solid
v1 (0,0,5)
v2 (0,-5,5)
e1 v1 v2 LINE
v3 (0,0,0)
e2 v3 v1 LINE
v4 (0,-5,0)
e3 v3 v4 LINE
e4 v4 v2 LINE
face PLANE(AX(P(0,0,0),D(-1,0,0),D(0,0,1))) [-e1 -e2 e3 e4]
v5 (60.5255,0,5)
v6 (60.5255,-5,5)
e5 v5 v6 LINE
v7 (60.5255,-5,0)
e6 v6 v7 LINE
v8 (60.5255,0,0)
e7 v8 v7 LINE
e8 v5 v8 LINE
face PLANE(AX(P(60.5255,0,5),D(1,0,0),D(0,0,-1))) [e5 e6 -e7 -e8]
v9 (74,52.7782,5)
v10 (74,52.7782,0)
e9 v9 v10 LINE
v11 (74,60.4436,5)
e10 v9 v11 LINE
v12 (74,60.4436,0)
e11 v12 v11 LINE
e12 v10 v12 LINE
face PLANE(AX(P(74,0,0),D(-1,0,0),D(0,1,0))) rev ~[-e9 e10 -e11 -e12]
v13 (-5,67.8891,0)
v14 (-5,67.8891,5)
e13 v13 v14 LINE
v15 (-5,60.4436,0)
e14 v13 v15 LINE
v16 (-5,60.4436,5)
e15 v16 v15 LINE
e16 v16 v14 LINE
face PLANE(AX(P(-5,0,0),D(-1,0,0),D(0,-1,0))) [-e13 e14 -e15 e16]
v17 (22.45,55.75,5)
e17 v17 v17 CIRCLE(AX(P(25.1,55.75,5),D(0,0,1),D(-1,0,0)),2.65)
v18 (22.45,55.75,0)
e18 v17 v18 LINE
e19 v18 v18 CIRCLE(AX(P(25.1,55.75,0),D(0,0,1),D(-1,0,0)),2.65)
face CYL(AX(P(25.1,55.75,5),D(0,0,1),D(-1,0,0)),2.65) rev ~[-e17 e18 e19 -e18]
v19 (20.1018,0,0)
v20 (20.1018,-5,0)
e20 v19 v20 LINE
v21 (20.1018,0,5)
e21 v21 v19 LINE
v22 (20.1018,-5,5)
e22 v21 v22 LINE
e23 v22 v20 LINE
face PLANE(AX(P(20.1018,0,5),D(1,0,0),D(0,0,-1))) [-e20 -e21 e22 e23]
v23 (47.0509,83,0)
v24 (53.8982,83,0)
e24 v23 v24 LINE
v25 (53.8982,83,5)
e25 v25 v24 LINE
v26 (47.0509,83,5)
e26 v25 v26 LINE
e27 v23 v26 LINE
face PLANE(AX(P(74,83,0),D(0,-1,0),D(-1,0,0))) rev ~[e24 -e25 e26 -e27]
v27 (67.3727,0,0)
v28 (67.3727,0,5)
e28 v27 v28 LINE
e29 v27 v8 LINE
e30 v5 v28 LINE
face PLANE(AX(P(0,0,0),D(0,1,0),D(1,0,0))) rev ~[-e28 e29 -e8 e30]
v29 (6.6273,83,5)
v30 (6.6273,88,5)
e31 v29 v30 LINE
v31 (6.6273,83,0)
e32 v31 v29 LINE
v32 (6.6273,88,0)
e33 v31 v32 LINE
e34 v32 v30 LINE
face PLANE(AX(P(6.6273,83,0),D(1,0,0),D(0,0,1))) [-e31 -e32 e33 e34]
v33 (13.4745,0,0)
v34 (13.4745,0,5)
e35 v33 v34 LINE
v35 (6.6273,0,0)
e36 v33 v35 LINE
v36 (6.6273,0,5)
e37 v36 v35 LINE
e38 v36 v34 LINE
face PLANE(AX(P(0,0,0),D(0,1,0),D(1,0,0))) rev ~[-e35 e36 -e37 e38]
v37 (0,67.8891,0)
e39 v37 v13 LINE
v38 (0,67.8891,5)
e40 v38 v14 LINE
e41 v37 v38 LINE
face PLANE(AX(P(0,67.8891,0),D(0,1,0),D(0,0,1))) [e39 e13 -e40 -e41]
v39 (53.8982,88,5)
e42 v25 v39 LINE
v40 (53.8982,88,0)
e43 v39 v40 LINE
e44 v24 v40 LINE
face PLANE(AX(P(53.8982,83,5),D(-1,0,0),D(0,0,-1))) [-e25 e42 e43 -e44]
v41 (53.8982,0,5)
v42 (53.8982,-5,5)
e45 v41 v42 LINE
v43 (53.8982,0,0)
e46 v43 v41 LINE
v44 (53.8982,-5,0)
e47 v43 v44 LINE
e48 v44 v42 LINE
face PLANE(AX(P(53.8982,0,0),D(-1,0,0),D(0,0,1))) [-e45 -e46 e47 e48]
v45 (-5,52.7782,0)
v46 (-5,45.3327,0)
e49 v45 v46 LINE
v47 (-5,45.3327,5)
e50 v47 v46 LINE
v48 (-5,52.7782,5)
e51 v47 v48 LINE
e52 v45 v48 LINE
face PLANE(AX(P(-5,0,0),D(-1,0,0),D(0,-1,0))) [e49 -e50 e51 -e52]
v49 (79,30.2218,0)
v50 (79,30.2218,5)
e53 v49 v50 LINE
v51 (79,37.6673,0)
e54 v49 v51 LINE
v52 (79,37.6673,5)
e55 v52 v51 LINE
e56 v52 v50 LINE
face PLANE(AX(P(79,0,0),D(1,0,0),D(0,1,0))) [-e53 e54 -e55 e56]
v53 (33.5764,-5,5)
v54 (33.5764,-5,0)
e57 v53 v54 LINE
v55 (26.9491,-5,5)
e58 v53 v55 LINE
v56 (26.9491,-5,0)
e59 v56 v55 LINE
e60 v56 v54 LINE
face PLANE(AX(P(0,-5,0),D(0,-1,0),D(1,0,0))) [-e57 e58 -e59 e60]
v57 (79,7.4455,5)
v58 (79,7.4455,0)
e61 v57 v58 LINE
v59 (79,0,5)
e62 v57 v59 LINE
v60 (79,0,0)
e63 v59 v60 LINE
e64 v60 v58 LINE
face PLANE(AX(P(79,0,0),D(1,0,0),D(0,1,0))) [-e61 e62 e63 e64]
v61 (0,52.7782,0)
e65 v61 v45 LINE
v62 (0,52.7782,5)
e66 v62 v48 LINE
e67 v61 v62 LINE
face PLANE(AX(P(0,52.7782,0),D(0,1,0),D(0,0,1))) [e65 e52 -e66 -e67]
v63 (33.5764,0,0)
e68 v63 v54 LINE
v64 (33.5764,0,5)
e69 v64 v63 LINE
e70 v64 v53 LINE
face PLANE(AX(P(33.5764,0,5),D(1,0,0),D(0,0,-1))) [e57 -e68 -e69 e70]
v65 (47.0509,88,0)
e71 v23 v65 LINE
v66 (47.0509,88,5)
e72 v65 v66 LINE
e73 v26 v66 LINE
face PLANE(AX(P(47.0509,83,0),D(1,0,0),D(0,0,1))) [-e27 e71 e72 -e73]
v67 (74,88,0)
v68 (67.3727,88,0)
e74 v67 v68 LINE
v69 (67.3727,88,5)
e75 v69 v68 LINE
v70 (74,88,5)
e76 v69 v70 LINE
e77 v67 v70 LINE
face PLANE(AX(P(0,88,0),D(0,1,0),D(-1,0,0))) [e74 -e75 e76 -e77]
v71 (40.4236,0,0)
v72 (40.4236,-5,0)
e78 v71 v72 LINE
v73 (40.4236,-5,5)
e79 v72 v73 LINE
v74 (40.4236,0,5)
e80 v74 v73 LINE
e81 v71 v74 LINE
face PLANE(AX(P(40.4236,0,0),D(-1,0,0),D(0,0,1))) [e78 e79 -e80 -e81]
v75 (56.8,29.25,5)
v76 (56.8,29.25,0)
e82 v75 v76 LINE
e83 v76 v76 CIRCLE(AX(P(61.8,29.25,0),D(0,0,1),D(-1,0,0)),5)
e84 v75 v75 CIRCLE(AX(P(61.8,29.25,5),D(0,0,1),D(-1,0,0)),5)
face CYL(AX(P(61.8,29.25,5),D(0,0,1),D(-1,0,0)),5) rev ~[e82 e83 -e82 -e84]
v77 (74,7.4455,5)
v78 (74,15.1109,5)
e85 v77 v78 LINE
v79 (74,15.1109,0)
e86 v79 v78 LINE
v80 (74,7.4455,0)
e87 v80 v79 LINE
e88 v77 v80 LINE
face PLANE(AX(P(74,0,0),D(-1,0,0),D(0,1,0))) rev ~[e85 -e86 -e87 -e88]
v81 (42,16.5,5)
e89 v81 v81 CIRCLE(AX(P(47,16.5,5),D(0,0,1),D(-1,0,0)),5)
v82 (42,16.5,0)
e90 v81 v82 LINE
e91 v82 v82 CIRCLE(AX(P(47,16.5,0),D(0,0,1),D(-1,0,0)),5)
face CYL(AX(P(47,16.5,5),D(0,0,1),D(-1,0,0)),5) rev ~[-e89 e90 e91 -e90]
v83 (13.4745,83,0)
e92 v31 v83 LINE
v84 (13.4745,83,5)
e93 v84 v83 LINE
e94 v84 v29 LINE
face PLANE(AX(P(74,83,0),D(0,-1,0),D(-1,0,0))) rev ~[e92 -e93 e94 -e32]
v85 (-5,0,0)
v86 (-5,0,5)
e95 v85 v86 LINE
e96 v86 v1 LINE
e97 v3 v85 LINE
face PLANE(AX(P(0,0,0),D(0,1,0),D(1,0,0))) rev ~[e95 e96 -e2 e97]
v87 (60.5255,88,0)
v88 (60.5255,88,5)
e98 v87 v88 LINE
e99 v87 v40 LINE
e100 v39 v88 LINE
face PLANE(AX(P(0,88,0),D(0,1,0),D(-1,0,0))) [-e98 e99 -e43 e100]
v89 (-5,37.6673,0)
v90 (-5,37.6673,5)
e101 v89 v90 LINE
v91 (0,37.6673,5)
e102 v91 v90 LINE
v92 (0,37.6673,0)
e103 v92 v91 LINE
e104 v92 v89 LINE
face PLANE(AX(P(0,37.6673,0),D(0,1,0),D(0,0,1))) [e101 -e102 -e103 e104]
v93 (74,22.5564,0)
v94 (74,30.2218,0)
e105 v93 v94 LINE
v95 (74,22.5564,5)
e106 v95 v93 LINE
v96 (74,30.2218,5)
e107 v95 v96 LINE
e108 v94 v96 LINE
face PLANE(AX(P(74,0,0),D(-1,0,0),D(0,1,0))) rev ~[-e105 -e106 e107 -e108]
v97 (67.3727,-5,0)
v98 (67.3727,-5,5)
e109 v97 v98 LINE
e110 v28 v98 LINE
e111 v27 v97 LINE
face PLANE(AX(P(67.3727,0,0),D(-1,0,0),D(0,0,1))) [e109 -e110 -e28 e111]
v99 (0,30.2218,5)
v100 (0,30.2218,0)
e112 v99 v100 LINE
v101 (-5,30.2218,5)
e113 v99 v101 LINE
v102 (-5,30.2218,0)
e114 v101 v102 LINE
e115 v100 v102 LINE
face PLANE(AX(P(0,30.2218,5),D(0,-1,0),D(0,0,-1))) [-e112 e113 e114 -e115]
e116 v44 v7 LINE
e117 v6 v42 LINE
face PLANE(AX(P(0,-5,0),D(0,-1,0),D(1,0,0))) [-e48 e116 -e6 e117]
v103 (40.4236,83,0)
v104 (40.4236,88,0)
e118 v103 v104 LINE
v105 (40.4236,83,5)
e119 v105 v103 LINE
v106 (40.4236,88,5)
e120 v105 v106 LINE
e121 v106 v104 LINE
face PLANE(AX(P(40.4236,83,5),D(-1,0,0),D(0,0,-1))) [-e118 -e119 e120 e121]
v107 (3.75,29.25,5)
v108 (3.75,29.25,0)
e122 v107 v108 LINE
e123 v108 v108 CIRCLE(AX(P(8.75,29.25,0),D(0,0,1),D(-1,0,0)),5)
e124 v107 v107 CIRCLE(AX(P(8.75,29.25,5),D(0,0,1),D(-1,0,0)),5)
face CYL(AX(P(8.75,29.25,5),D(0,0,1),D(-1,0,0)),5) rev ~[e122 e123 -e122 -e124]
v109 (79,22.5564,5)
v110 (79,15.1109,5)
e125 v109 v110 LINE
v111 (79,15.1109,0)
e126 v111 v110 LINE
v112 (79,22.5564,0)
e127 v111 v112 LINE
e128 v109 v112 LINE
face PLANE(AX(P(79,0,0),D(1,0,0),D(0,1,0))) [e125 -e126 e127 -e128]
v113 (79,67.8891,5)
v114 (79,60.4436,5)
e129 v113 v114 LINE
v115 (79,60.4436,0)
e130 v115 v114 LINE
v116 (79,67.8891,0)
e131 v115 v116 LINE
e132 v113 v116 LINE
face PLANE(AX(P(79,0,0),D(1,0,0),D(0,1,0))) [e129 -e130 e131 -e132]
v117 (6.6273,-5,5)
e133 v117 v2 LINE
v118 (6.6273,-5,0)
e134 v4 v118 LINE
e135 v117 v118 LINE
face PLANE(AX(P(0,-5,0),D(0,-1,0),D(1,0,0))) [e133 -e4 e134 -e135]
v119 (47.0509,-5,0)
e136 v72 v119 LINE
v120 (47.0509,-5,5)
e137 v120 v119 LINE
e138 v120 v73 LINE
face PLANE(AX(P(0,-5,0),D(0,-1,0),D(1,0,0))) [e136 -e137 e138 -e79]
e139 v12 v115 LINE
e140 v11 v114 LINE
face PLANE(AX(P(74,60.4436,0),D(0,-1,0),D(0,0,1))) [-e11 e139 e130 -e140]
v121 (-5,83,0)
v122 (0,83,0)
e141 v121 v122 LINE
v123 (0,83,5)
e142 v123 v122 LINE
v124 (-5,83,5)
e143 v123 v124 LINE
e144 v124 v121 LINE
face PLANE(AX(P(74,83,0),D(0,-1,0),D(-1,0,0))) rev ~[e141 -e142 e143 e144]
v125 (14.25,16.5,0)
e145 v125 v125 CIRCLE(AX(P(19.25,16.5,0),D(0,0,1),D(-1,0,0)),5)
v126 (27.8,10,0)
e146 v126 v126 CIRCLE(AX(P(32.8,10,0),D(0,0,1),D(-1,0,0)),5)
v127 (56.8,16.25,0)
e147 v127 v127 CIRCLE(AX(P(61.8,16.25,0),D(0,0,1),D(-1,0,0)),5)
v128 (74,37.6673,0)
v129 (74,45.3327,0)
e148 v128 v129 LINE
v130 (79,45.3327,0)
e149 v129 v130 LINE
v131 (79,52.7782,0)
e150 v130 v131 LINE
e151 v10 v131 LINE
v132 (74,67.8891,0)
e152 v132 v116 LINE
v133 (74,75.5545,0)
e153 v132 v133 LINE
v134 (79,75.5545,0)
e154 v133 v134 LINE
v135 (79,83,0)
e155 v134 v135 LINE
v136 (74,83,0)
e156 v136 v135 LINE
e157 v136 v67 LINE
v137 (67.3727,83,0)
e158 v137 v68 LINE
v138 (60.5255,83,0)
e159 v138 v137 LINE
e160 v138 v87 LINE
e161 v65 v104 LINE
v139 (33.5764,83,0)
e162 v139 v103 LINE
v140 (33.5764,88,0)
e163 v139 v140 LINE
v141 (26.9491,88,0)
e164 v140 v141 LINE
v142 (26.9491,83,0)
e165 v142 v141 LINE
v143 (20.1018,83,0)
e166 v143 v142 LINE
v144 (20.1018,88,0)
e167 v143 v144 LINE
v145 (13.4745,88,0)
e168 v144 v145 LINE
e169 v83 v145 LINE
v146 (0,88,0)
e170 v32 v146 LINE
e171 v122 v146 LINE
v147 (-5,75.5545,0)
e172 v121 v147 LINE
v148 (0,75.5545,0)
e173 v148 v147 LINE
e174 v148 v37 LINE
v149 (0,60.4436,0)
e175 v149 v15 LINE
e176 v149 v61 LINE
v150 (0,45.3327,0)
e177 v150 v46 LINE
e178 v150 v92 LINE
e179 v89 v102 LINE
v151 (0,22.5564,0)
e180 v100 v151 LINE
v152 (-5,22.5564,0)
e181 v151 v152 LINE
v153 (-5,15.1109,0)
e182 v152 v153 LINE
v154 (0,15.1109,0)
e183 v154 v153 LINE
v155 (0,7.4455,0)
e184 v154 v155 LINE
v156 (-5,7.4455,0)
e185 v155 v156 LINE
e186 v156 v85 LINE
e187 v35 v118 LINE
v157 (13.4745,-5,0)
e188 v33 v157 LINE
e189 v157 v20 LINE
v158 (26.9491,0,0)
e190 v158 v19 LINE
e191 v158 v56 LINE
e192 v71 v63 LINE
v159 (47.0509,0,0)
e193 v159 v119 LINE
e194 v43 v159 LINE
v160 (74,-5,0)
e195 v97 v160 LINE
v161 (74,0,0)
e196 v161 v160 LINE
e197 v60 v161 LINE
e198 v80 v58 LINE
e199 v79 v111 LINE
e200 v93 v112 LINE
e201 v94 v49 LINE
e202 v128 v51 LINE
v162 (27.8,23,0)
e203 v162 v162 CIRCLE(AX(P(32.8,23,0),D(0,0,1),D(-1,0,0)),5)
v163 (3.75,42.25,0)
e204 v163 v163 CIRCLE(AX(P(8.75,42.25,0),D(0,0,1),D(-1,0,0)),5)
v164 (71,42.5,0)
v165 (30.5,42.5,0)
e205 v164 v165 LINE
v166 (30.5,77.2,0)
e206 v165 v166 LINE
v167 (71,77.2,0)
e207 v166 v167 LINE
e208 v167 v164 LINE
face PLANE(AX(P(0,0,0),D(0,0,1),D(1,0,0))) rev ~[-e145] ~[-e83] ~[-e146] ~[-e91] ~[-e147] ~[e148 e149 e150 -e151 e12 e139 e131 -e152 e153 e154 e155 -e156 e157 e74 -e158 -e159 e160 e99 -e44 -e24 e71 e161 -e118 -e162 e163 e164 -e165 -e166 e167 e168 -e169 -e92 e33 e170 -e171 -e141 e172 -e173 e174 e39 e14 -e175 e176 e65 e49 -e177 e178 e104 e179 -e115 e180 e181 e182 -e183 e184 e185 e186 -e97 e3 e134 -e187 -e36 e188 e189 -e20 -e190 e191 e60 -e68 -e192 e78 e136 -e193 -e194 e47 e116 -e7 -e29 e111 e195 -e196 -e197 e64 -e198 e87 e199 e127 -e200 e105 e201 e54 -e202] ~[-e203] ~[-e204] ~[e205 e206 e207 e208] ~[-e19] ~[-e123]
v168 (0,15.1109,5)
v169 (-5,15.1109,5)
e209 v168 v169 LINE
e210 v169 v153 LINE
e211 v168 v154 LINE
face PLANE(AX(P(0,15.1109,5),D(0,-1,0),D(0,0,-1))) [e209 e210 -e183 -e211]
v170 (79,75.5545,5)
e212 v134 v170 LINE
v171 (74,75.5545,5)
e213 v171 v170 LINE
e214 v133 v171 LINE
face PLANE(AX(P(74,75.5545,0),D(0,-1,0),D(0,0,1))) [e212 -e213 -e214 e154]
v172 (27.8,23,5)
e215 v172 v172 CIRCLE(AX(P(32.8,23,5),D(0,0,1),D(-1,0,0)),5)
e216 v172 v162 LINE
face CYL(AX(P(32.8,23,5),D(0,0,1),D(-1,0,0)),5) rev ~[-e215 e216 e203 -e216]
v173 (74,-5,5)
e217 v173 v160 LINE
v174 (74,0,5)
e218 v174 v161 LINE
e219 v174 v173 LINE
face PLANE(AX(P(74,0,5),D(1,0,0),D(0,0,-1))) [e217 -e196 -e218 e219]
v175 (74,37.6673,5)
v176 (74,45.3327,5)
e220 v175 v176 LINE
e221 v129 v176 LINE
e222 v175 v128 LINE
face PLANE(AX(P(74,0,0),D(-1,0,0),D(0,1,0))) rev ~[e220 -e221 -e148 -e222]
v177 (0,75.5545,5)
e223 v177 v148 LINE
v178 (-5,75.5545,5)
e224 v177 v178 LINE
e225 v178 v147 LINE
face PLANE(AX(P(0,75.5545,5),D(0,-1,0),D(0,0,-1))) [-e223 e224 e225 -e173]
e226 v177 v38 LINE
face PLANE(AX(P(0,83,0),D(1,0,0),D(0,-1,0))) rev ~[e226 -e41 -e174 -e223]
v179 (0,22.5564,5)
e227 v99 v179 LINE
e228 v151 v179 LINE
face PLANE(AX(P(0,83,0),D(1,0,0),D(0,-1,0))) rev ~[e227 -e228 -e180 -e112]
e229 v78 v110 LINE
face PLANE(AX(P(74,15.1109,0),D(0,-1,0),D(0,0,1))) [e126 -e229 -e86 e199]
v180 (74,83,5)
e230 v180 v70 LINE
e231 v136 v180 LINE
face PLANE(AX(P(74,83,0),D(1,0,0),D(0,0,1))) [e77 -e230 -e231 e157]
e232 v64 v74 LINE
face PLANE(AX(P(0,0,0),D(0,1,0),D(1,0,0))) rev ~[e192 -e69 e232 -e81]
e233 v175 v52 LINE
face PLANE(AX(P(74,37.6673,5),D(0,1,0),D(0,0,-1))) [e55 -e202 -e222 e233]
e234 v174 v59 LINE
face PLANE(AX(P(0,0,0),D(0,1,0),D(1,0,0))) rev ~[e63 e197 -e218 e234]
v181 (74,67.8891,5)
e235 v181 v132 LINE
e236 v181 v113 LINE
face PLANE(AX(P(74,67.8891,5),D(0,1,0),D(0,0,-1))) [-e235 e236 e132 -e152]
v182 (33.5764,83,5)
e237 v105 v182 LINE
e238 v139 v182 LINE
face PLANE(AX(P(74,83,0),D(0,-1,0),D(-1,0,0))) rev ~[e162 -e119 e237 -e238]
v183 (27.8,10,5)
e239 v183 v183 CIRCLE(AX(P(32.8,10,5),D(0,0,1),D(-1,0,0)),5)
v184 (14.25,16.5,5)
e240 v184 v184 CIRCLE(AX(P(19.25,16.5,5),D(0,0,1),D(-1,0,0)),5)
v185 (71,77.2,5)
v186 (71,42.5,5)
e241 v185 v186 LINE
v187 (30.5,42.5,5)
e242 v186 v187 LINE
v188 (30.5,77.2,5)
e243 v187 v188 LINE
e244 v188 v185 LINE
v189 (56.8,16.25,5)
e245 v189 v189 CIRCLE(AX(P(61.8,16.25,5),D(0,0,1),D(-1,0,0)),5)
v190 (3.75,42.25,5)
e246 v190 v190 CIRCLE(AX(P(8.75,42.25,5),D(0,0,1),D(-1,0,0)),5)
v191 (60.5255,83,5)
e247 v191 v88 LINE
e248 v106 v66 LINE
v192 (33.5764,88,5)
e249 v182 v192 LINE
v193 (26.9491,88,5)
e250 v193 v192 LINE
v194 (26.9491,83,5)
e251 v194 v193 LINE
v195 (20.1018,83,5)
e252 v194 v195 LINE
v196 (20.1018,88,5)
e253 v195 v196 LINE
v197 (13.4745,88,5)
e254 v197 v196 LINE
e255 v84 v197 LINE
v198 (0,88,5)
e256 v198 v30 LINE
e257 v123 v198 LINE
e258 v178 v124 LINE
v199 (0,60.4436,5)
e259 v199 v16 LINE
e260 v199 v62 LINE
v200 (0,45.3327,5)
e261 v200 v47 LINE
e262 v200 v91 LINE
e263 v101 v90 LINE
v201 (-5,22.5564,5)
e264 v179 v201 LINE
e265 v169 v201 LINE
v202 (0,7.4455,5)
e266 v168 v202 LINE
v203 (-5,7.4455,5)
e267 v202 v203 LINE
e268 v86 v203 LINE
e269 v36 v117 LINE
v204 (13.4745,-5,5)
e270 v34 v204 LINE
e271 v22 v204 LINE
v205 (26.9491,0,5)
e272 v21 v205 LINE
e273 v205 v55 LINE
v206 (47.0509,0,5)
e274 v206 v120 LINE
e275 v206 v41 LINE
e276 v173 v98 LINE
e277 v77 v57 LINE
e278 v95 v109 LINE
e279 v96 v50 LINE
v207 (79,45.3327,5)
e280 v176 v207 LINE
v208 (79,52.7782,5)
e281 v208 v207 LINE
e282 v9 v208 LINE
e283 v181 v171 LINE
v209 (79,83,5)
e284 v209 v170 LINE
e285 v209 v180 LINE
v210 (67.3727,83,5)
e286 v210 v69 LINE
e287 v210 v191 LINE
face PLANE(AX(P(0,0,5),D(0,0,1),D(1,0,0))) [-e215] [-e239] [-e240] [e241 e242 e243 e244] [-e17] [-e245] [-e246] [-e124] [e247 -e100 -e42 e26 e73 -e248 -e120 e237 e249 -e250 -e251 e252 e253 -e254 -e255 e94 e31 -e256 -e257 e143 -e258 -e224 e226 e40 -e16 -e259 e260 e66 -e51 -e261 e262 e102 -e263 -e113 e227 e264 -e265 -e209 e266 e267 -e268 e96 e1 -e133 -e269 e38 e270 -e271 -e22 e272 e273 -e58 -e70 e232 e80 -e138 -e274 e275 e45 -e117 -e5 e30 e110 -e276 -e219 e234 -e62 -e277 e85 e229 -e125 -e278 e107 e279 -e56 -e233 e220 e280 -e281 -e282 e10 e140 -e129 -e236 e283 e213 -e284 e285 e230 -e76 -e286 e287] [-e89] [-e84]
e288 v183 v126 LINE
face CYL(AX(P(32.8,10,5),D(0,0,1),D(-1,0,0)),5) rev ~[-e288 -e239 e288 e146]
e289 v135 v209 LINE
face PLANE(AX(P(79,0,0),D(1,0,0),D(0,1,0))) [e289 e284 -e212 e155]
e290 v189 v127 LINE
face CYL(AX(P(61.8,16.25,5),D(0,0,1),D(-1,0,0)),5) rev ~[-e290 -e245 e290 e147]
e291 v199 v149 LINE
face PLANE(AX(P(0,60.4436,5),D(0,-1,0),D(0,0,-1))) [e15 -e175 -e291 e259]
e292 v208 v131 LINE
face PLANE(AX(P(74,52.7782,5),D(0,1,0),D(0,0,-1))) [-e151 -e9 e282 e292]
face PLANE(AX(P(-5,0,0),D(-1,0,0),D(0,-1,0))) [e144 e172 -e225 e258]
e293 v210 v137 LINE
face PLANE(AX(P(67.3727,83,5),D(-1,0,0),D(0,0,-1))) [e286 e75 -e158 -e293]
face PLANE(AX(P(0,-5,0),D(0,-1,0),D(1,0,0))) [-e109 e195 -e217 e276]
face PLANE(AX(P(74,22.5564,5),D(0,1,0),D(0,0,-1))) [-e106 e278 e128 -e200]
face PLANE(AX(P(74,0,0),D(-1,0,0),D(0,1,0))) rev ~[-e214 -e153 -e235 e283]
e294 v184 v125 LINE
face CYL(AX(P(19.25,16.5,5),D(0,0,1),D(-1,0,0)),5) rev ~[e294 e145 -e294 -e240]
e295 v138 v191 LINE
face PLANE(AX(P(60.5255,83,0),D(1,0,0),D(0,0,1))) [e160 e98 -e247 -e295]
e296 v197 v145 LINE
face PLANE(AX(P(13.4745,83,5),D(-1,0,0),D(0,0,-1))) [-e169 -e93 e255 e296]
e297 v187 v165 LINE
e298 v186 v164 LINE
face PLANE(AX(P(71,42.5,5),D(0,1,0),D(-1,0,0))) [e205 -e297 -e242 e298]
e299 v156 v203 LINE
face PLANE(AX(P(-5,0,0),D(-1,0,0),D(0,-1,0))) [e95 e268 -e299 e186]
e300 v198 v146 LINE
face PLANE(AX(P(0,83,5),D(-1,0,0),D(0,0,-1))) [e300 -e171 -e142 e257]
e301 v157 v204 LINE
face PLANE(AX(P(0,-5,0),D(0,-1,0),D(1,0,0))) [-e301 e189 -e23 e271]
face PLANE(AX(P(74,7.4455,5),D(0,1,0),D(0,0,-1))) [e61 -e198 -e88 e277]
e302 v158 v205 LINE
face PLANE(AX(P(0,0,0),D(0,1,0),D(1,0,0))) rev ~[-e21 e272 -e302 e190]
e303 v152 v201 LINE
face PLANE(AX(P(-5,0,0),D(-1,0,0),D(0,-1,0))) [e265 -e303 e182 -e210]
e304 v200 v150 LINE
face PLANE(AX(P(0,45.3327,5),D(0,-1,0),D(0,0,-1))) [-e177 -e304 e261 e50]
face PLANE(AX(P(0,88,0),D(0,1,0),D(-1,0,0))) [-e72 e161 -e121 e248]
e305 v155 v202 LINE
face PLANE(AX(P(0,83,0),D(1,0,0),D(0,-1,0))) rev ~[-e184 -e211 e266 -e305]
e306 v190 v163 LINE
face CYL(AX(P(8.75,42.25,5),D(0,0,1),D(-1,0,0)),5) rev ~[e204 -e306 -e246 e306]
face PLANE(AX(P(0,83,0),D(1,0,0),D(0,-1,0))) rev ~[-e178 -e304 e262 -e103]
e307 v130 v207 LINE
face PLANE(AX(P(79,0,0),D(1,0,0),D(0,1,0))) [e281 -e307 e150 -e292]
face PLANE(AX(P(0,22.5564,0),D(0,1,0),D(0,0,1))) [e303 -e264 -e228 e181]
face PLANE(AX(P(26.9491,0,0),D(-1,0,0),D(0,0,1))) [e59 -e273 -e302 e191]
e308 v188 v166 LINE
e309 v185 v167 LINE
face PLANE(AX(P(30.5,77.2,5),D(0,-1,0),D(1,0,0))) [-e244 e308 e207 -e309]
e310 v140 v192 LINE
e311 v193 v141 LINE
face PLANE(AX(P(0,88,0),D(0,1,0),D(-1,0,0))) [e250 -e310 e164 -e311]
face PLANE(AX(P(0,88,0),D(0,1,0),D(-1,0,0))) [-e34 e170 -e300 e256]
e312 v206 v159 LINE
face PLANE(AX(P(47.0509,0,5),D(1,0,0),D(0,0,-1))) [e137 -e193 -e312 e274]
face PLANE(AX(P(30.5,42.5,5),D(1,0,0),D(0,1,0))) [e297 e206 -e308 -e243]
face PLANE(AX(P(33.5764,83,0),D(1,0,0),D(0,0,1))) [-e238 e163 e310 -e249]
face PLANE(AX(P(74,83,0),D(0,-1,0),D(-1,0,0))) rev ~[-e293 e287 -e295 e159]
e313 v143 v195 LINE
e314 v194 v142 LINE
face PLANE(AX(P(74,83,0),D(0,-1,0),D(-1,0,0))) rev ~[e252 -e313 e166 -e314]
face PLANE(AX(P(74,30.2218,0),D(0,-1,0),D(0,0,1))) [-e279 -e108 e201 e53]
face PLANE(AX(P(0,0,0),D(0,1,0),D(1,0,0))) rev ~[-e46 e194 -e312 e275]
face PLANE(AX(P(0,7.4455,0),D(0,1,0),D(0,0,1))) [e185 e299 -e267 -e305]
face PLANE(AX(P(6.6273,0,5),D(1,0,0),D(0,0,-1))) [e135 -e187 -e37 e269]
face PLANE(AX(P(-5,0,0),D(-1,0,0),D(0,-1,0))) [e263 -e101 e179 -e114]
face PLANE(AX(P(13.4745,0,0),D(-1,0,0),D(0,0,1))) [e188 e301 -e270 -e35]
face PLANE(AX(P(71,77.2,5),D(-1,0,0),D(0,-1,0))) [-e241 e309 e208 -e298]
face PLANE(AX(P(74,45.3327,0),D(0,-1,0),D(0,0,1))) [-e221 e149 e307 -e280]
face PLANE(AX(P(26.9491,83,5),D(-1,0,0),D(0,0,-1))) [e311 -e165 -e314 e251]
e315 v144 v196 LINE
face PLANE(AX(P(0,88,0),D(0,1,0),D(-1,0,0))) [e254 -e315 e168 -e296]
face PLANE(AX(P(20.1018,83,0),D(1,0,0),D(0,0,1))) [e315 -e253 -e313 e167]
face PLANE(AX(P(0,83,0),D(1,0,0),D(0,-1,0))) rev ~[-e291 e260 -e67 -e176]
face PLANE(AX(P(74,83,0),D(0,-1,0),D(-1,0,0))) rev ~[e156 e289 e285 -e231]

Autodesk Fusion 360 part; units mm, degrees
sketch "Sketch1" plane through (0, 0, 0) normal (0, 0, 1) x (1, 0, 0)
  line L0 (0, 0) -> (74, 0)
  line L1 (74, 0) -> (74, 83)
  line L2 (74, 83) -> (0, 83)
  line L3 (0, 83) -> (0, 0)
  dimension "d1" = 74
  dimension "d2" = 83
extrude "Extrude1" add sketch "Sketch1" along normal blind 5
sketch "Sketch2" plane through (0, 0, 5) normal (0, 0, 1) x (-1, 0, 0)
  line L0 (0, -83) -> (0, 0)
  line L1 (0, 0) -> (-74, 0)
  line L2 (-74, 0) -> (-74, -83)
  line L3 (-74, -83) -> (0, -83)
  line L4 (-30.5, -77.2) -> (-71, -77.2)
  line L5 (-71, -77.2) -> (-71, -42.5)
  line L6 (-71, -42.5) -> (-30.5, -42.5)
  line L7 (-30.5, -42.5) -> (-30.5, -77.2)
  line L8 (-55.8, -22.25) -> (-67.8, -22.25)
  line L9 (-67.8, -22.25) -> (-67.8, -10.25)
  line L10 (-67.8, -10.25) -> (-55.8, -10.25)
  line L11 (-55.8, -10.25) -> (-55.8, -22.25)
  line L12 (-55.8, -35.25) -> (-67.8, -35.25)
  line L13 (-67.8, -35.25) -> (-67.8, -23.25)
  line L14 (-67.8, -23.25) -> (-55.8, -23.25)
  line L15 (-55.8, -23.25) -> (-55.8, -35.25)
  line L16 (-55.8, -29.25) -> (-67.8, -29.25) construction
  line L17 (-61.8, -35.25) -> (-61.8, -23.25) construction
  circle A0 centre (-61.8, -29.25) radius 5
  line L18 (-61.8, -22.25) -> (-61.8, -10.25) construction
  line L19 (-55.8, -16.25) -> (-67.8, -16.25) construction
  circle A1 centre (-61.8, -16.25) radius 5
  line L20 (-25.25, -10.5) -> (-13.25, -10.5)
  line L21 (-13.25, -10.5) -> (-13.25, -22.5)
  line L22 (-13.25, -22.5) -> (-25.25, -22.5)
  line L23 (-25.25, -22.5) -> (-25.25, -10.5)
  circle A2 centre (-19.25, -16.5) radius 5
  line L24 (-38.8, -4) -> (-26.8, -4)
  line L25 (-26.8, -4) -> (-26.8, -16)
  line L26 (-26.8, -16) -> (-38.8, -16)
  line L27 (-38.8, -16) -> (-38.8, -4)
  circle A3 centre (-32.8, -10) radius 5
  line L28 (-38.8, -17) -> (-26.8, -17)
  line L29 (-26.8, -17) -> (-26.8, -29)
  line L30 (-26.8, -29) -> (-38.8, -29)
  line L31 (-38.8, -29) -> (-38.8, -17)
  circle A4 centre (-32.8, -23) radius 5
  line L32 (-53, -10.5) -> (-41, -10.5)
  line L33 (-41, -10.5) -> (-41, -22.5)
  line L34 (-41, -22.5) -> (-53, -22.5)
  line L35 (-53, -22.5) -> (-53, -10.5)
  circle A5 centre (-47, -16.5) radius 5
  line L36 (-14.75, -36.25) -> (-2.75, -36.25)
  line L37 (-2.75, -36.25) -> (-2.75, -48.25)
  line L38 (-2.75, -48.25) -> (-14.75, -48.25)
  line L39 (-14.75, -48.25) -> (-14.75, -36.25)
  circle A6 centre (-8.75, -42.25) radius 5
  line L40 (-14.75, -23.25) -> (-2.75, -23.25)
  line L41 (-2.75, -23.25) -> (-2.75, -35.25)
  line L42 (-2.75, -35.25) -> (-14.75, -35.25)
  line L43 (-14.75, -35.25) -> (-14.75, -23.25)
  circle A7 centre (-8.75, -29.25) radius 5
  circle A8 centre (-25.1, -55.75) radius 2.65
  dimension "d5" = 30.5
  dimension "d6" = 42.5
  dimension "d7" = 34.7
  dimension "d8" = 40.5
  dimension "d11" = 12
  dimension "d14" = 12
  dimension "d15" = 6.2
  dimension "d16" = 10.25
  dimension "d17" = 6.2
  dimension "d19" = 1
  dimension "d20" = 10
  dimension "d21" = 10
  dimension "d22" = 12
  dimension "d23" = 10
  dimension "d24" = 12
  dimension "d25" = 10
  dimension "d26" = 12
  dimension "d27" = 10
  dimension "d28" = 12
  dimension "d29" = 10
  dimension "d32" = 10.5
  dimension "d33" = 6
  dimension "d34" = 6
  dimension "d35" = 4
  dimension "d36" = 6
  dimension "d37" = 6
  dimension "d38" = 21
  dimension "d39" = 17
  dimension "d40" = 6
  dimension "d41" = 6
  dimension "d42" = 35.2
  dimension "d43" = 6
  dimension "d44" = 6
  dimension "d45" = 13.25
  dimension "d46" = 10.5
  dimension "d47" = 12
  dimension "d48" = 10
  dimension "d49" = 6
  dimension "d50" = 6
  dimension "d51" = 12
  dimension "d52" = 10
  dimension "d53" = 6
  dimension "d54" = 6
  dimension "d55" = 2.75
  dimension "d56" = 23.25
  dimension "d57" = 1
  dimension "d58" = 5.3
  dimension "d59" = 27.25
  dimension "d60" = 25.1
extrude "Extrude3" cut sketch "Sketch2" against normal blind 5 contours A8
extrude "Extrude2" cut sketch "Sketch2" against normal blind 5 contours L4 L5 L6 L7 | A0 | A1 | A2 | A3 | A4 | A5 | A6 | A7
sketch "Sketch3" plane through (74, 0, 0) normal (1, 0, 0) x (0, 1, 0)
  line L0 (0, 0) -> (83, 0)
  line L1 (83, 0) -> (83, 5)
  line L2 (83, 5) -> (0, 5)
  line L3 (0, 5) -> (0, 0)
  line L4 (0, 5) -> (7.4455, 5)
  line L5 (7.4455, 5) -> (7.4455, 0)
  line L6 (7.4455, 0) -> (0, 0)
  line L7 (0, 0) -> (0, 5)
  line L8 (15.1109, 0) -> (15.1109, 5)
  line L9 (15.1109, 5) -> (22.5564, 5)
  line L10 (22.5564, 5) -> (22.5564, 0)
  line L11 (22.5564, 0) -> (15.1109, 0)
  line L12 (30.2218, 0) -> (30.2218, 5)
  line L13 (30.2218, 5) -> (37.6673, 5)
  line L14 (37.6673, 5) -> (37.6673, 0)
  line L15 (37.6673, 0) -> (30.2218, 0)
  line L16 (45.3327, 0) -> (45.3327, 5)
  line L17 (45.3327, 5) -> (52.7782, 5)
  line L18 (52.7782, 5) -> (52.7782, 0)
  line L19 (52.7782, 0) -> (45.3327, 0)
  line L20 (60.4436, 0) -> (60.4436, 5)
  line L21 (60.4436, 5) -> (67.8891, 5)
  line L22 (67.8891, 5) -> (67.8891, 0)
  line L23 (67.8891, 0) -> (60.4436, 0)
  line L24 (75.5545, 0) -> (75.5545, 5)
  line L25 (75.5545, 5) -> (83, 5)
  line L26 (83, 5) -> (83, 0)
  line L27 (83, 0) -> (75.5545, 0)
  dimension "d70" = 7.4455
  dimension "d74" = 75.5545
  dimension "d75" = 0
extrude "Extrude4" add sketch "Sketch3" along normal blind 5 contours L0 L2 L3 L4 L5 L6 L7 | L0 L2 L8 L9 L10 L11 | L0 L2 L12 L13 L14 L15 | L0 L2 L16 L17 L18 L19 | L0 L2 L20 L21 L22 L23 | L0 L1 L2 L24 L25 L26 L27
sketch "Sketch4" plane through (0, 0, 0) normal (-1, 0, 0) x (0, -1, 0)
  line L0 (-83, 0) -> (0, 0)
  line L1 (0, 0) -> (0, 5)
  line L2 (0, 5) -> (-83, 5)
  line L3 (-83, 5) -> (-83, 0)
  line L4 (-83, 5) -> (-75.5545, 5)
  line L5 (-75.5545, 5) -> (-75.5545, 0)
  line L6 (-75.5545, 0) -> (-83, 0)
  line L7 (-83, 0) -> (-83, 5)
  line L8 (-67.8891, 0) -> (-67.8891, 5)
  line L9 (-67.8891, 5) -> (-60.4436, 5)
  line L10 (-60.4436, 5) -> (-60.4436, 0)
  line L11 (-60.4436, 0) -> (-67.8891, 0)
  line L12 (-52.7782, 0) -> (-52.7782, 5)
  line L13 (-52.7782, 5) -> (-45.3327, 5)
  line L14 (-45.3327, 5) -> (-45.3327, 0)
  line L15 (-45.3327, 0) -> (-52.7782, 0)
  line L16 (-37.6673, 0) -> (-37.6673, 5)
  line L17 (-37.6673, 5) -> (-30.2218, 5)
  line L18 (-30.2218, 5) -> (-30.2218, 0)
  line L19 (-30.2218, 0) -> (-37.6673, 0)
  line L20 (-22.5564, 0) -> (-22.5564, 5)
  line L21 (-22.5564, 5) -> (-15.1109, 5)
  line L22 (-15.1109, 5) -> (-15.1109, 0)
  line L23 (-15.1109, 0) -> (-22.5564, 0)
  line L24 (-7.4455, 0) -> (-7.4455, 5)
  line L25 (-7.4455, 5) -> (0, 5)
  line L26 (0, 5) -> (0, 0)
  line L27 (0, 0) -> (-7.4455, 0)
  dimension "d78" = 7.4455
  dimension "d81" = 75.5545
  dimension "d82" = 0
extrude "Extrude5" add sketch "Sketch4" along normal blind 5 contours L0 L2 L3 L4 L5 L6 L7 | L0 L2 L8 L9 L10 L11 | L0 L2 L12 L13 L14 L15 | L0 L2 L16 L17 L18 L19 | L0 L2 L20 L21 L22 L23 | L0 L1 L2 L24 L25 L26 L27
sketch "Sketch5" plane through (0, 0, 0) normal (0, -1, 0) x (1, 0, 0)
  line L0 (-5, 0) -> (79, 0)
  line L1 (79, 0) -> (79, 5)
  line L2 (79, 5) -> (-5, 5)
  line L3 (-5, 5) -> (-5, 0)
  line L4 (0, 5) -> (6.6273, 5)
  line L5 (6.6273, 5) -> (6.6273, 0)
  line L6 (6.6273, 0) -> (0, 0)
  line L7 (0, 0) -> (0, 5)
  line L8 (13.4745, 0) -> (13.4745, 5)
  line L9 (13.4745, 5) -> (20.1018, 5)
  line L10 (20.1018, 5) -> (20.1018, 0)
  line L11 (20.1018, 0) -> (13.4745, 0)
  line L12 (26.9491, 0) -> (26.9491, 5)
  line L13 (26.9491, 5) -> (33.5764, 5)
  line L14 (33.5764, 5) -> (33.5764, 0)
  line L15 (33.5764, 0) -> (26.9491, 0)
  line L16 (40.4236, 0) -> (40.4236, 5)
  line L17 (40.4236, 5) -> (47.0509, 5)
  line L18 (47.0509, 5) -> (47.0509, 0)
  line L19 (47.0509, 0) -> (40.4236, 0)
  line L20 (53.8982, 0) -> (53.8982, 5)
  line L21 (53.8982, 5) -> (60.5255, 5)
  line L22 (60.5255, 5) -> (60.5255, 0)
  line L23 (60.5255, 0) -> (53.8982, 0)
  line L24 (67.3727, 0) -> (67.3727, 5)
  line L25 (67.3727, 5) -> (74, 5)
  line L26 (74, 5) -> (74, 0)
  line L27 (74, 0) -> (67.3727, 0)
  point P0 (0, 5)
  dimension "d85" = 6.6273
  dimension "d88" = 67.3727
  dimension "d89" = 0
extrude "Extrude6" add sketch "Sketch5" along normal blind 5 contours L0 L2 L4 L5 L6 L7 | L0 L2 L8 L9 L10 L11 | L0 L2 L12 L13 L14 L15 | L0 L2 L16 L17 L18 L19 | L0 L2 L20 L21 L22 L23 | L0 L2 L24 L25 L26 L27
sketch "Sketch6" plane through (0, 83, 0) normal (0, 1, 0) x (-1, 0, 0)
  line L0 (-79, 0) -> (5, 0)
  line L1 (5, 0) -> (5, 5)
  line L2 (5, 5) -> (-79, 5)
  line L3 (-79, 5) -> (-79, 0)
  line L4 (-74, 5) -> (-67.3727, 5)
  line L5 (-67.3727, 5) -> (-67.3727, 0)
  line L6 (-67.3727, 0) -> (-74, 0)
  line L7 (-74, 0) -> (-74, 5)
  line L8 (-60.5255, 0) -> (-60.5255, 5)
  line L9 (-60.5255, 5) -> (-53.8982, 5)
  line L10 (-53.8982, 5) -> (-53.8982, 0)
  line L11 (-53.8982, 0) -> (-60.5255, 0)
  line L12 (-47.0509, 0) -> (-47.0509, 5)
  line L13 (-47.0509, 5) -> (-40.4236, 5)
  line L14 (-40.4236, 5) -> (-40.4236, 0)
  line L15 (-40.4236, 0) -> (-47.0509, 0)
  line L16 (-33.5764, 0) -> (-33.5764, 5)
  line L17 (-33.5764, 5) -> (-26.9491, 5)
  line L18 (-26.9491, 5) -> (-26.9491, 0)
  line L19 (-26.9491, 0) -> (-33.5764, 0)
  line L20 (-20.1018, 0) -> (-20.1018, 5)
  line L21 (-20.1018, 5) -> (-13.4745, 5)
  line L22 (-13.4745, 5) -> (-13.4745, 0)
  line L23 (-13.4745, 0) -> (-20.1018, 0)
  line L24 (-6.6273, 0) -> (-6.6273, 5)
  line L25 (-6.6273, 5) -> (0, 5)
  line L26 (0, 5) -> (0, 0)
  line L27 (0, 0) -> (-6.6273, 0)
  point P0 (-74, 5)
  point P1 (-67.3727, 0)
  dimension "d94" = 67.3727
  dimension "d95" = 0
extrude "Extrude7" add sketch "Sketch6" along normal blind 5 contours L0 L2 L4 L5 L6 L7 | L0 L2 L8 L9 L10 L11 | L0 L2 L12 L13 L14 L15 | L0 L2 L16 L17 L18 L19 | L0 L2 L20 L21 L22 L23 | L0 L2 L24 L25 L26 L27
equation "pikkus = 83 mm"
equation "laius = 74 mm"
equation "paksus = 5 mm"
equation "pikkus_tapp = pikkus / 11 - 0.1 mm"
equation "laius_tapp = laius / 11 - 0.1 mm"
equation "d70 = pikkus_tapp"
equation "d74 = pikkus - pikkus_tapp"
equation "d76 = paksus"
equation "d78 = pikkus_tapp"
equation "d81 = pikkus - pikkus_tapp"
equation "d83 = paksus"
equation "d85 = laius_tapp"
equation "d88 = laius - laius_tapp"
equation "d90 = paksus"
equation "d94 = laius - laius_tapp"
equation "d96 = paksus"
